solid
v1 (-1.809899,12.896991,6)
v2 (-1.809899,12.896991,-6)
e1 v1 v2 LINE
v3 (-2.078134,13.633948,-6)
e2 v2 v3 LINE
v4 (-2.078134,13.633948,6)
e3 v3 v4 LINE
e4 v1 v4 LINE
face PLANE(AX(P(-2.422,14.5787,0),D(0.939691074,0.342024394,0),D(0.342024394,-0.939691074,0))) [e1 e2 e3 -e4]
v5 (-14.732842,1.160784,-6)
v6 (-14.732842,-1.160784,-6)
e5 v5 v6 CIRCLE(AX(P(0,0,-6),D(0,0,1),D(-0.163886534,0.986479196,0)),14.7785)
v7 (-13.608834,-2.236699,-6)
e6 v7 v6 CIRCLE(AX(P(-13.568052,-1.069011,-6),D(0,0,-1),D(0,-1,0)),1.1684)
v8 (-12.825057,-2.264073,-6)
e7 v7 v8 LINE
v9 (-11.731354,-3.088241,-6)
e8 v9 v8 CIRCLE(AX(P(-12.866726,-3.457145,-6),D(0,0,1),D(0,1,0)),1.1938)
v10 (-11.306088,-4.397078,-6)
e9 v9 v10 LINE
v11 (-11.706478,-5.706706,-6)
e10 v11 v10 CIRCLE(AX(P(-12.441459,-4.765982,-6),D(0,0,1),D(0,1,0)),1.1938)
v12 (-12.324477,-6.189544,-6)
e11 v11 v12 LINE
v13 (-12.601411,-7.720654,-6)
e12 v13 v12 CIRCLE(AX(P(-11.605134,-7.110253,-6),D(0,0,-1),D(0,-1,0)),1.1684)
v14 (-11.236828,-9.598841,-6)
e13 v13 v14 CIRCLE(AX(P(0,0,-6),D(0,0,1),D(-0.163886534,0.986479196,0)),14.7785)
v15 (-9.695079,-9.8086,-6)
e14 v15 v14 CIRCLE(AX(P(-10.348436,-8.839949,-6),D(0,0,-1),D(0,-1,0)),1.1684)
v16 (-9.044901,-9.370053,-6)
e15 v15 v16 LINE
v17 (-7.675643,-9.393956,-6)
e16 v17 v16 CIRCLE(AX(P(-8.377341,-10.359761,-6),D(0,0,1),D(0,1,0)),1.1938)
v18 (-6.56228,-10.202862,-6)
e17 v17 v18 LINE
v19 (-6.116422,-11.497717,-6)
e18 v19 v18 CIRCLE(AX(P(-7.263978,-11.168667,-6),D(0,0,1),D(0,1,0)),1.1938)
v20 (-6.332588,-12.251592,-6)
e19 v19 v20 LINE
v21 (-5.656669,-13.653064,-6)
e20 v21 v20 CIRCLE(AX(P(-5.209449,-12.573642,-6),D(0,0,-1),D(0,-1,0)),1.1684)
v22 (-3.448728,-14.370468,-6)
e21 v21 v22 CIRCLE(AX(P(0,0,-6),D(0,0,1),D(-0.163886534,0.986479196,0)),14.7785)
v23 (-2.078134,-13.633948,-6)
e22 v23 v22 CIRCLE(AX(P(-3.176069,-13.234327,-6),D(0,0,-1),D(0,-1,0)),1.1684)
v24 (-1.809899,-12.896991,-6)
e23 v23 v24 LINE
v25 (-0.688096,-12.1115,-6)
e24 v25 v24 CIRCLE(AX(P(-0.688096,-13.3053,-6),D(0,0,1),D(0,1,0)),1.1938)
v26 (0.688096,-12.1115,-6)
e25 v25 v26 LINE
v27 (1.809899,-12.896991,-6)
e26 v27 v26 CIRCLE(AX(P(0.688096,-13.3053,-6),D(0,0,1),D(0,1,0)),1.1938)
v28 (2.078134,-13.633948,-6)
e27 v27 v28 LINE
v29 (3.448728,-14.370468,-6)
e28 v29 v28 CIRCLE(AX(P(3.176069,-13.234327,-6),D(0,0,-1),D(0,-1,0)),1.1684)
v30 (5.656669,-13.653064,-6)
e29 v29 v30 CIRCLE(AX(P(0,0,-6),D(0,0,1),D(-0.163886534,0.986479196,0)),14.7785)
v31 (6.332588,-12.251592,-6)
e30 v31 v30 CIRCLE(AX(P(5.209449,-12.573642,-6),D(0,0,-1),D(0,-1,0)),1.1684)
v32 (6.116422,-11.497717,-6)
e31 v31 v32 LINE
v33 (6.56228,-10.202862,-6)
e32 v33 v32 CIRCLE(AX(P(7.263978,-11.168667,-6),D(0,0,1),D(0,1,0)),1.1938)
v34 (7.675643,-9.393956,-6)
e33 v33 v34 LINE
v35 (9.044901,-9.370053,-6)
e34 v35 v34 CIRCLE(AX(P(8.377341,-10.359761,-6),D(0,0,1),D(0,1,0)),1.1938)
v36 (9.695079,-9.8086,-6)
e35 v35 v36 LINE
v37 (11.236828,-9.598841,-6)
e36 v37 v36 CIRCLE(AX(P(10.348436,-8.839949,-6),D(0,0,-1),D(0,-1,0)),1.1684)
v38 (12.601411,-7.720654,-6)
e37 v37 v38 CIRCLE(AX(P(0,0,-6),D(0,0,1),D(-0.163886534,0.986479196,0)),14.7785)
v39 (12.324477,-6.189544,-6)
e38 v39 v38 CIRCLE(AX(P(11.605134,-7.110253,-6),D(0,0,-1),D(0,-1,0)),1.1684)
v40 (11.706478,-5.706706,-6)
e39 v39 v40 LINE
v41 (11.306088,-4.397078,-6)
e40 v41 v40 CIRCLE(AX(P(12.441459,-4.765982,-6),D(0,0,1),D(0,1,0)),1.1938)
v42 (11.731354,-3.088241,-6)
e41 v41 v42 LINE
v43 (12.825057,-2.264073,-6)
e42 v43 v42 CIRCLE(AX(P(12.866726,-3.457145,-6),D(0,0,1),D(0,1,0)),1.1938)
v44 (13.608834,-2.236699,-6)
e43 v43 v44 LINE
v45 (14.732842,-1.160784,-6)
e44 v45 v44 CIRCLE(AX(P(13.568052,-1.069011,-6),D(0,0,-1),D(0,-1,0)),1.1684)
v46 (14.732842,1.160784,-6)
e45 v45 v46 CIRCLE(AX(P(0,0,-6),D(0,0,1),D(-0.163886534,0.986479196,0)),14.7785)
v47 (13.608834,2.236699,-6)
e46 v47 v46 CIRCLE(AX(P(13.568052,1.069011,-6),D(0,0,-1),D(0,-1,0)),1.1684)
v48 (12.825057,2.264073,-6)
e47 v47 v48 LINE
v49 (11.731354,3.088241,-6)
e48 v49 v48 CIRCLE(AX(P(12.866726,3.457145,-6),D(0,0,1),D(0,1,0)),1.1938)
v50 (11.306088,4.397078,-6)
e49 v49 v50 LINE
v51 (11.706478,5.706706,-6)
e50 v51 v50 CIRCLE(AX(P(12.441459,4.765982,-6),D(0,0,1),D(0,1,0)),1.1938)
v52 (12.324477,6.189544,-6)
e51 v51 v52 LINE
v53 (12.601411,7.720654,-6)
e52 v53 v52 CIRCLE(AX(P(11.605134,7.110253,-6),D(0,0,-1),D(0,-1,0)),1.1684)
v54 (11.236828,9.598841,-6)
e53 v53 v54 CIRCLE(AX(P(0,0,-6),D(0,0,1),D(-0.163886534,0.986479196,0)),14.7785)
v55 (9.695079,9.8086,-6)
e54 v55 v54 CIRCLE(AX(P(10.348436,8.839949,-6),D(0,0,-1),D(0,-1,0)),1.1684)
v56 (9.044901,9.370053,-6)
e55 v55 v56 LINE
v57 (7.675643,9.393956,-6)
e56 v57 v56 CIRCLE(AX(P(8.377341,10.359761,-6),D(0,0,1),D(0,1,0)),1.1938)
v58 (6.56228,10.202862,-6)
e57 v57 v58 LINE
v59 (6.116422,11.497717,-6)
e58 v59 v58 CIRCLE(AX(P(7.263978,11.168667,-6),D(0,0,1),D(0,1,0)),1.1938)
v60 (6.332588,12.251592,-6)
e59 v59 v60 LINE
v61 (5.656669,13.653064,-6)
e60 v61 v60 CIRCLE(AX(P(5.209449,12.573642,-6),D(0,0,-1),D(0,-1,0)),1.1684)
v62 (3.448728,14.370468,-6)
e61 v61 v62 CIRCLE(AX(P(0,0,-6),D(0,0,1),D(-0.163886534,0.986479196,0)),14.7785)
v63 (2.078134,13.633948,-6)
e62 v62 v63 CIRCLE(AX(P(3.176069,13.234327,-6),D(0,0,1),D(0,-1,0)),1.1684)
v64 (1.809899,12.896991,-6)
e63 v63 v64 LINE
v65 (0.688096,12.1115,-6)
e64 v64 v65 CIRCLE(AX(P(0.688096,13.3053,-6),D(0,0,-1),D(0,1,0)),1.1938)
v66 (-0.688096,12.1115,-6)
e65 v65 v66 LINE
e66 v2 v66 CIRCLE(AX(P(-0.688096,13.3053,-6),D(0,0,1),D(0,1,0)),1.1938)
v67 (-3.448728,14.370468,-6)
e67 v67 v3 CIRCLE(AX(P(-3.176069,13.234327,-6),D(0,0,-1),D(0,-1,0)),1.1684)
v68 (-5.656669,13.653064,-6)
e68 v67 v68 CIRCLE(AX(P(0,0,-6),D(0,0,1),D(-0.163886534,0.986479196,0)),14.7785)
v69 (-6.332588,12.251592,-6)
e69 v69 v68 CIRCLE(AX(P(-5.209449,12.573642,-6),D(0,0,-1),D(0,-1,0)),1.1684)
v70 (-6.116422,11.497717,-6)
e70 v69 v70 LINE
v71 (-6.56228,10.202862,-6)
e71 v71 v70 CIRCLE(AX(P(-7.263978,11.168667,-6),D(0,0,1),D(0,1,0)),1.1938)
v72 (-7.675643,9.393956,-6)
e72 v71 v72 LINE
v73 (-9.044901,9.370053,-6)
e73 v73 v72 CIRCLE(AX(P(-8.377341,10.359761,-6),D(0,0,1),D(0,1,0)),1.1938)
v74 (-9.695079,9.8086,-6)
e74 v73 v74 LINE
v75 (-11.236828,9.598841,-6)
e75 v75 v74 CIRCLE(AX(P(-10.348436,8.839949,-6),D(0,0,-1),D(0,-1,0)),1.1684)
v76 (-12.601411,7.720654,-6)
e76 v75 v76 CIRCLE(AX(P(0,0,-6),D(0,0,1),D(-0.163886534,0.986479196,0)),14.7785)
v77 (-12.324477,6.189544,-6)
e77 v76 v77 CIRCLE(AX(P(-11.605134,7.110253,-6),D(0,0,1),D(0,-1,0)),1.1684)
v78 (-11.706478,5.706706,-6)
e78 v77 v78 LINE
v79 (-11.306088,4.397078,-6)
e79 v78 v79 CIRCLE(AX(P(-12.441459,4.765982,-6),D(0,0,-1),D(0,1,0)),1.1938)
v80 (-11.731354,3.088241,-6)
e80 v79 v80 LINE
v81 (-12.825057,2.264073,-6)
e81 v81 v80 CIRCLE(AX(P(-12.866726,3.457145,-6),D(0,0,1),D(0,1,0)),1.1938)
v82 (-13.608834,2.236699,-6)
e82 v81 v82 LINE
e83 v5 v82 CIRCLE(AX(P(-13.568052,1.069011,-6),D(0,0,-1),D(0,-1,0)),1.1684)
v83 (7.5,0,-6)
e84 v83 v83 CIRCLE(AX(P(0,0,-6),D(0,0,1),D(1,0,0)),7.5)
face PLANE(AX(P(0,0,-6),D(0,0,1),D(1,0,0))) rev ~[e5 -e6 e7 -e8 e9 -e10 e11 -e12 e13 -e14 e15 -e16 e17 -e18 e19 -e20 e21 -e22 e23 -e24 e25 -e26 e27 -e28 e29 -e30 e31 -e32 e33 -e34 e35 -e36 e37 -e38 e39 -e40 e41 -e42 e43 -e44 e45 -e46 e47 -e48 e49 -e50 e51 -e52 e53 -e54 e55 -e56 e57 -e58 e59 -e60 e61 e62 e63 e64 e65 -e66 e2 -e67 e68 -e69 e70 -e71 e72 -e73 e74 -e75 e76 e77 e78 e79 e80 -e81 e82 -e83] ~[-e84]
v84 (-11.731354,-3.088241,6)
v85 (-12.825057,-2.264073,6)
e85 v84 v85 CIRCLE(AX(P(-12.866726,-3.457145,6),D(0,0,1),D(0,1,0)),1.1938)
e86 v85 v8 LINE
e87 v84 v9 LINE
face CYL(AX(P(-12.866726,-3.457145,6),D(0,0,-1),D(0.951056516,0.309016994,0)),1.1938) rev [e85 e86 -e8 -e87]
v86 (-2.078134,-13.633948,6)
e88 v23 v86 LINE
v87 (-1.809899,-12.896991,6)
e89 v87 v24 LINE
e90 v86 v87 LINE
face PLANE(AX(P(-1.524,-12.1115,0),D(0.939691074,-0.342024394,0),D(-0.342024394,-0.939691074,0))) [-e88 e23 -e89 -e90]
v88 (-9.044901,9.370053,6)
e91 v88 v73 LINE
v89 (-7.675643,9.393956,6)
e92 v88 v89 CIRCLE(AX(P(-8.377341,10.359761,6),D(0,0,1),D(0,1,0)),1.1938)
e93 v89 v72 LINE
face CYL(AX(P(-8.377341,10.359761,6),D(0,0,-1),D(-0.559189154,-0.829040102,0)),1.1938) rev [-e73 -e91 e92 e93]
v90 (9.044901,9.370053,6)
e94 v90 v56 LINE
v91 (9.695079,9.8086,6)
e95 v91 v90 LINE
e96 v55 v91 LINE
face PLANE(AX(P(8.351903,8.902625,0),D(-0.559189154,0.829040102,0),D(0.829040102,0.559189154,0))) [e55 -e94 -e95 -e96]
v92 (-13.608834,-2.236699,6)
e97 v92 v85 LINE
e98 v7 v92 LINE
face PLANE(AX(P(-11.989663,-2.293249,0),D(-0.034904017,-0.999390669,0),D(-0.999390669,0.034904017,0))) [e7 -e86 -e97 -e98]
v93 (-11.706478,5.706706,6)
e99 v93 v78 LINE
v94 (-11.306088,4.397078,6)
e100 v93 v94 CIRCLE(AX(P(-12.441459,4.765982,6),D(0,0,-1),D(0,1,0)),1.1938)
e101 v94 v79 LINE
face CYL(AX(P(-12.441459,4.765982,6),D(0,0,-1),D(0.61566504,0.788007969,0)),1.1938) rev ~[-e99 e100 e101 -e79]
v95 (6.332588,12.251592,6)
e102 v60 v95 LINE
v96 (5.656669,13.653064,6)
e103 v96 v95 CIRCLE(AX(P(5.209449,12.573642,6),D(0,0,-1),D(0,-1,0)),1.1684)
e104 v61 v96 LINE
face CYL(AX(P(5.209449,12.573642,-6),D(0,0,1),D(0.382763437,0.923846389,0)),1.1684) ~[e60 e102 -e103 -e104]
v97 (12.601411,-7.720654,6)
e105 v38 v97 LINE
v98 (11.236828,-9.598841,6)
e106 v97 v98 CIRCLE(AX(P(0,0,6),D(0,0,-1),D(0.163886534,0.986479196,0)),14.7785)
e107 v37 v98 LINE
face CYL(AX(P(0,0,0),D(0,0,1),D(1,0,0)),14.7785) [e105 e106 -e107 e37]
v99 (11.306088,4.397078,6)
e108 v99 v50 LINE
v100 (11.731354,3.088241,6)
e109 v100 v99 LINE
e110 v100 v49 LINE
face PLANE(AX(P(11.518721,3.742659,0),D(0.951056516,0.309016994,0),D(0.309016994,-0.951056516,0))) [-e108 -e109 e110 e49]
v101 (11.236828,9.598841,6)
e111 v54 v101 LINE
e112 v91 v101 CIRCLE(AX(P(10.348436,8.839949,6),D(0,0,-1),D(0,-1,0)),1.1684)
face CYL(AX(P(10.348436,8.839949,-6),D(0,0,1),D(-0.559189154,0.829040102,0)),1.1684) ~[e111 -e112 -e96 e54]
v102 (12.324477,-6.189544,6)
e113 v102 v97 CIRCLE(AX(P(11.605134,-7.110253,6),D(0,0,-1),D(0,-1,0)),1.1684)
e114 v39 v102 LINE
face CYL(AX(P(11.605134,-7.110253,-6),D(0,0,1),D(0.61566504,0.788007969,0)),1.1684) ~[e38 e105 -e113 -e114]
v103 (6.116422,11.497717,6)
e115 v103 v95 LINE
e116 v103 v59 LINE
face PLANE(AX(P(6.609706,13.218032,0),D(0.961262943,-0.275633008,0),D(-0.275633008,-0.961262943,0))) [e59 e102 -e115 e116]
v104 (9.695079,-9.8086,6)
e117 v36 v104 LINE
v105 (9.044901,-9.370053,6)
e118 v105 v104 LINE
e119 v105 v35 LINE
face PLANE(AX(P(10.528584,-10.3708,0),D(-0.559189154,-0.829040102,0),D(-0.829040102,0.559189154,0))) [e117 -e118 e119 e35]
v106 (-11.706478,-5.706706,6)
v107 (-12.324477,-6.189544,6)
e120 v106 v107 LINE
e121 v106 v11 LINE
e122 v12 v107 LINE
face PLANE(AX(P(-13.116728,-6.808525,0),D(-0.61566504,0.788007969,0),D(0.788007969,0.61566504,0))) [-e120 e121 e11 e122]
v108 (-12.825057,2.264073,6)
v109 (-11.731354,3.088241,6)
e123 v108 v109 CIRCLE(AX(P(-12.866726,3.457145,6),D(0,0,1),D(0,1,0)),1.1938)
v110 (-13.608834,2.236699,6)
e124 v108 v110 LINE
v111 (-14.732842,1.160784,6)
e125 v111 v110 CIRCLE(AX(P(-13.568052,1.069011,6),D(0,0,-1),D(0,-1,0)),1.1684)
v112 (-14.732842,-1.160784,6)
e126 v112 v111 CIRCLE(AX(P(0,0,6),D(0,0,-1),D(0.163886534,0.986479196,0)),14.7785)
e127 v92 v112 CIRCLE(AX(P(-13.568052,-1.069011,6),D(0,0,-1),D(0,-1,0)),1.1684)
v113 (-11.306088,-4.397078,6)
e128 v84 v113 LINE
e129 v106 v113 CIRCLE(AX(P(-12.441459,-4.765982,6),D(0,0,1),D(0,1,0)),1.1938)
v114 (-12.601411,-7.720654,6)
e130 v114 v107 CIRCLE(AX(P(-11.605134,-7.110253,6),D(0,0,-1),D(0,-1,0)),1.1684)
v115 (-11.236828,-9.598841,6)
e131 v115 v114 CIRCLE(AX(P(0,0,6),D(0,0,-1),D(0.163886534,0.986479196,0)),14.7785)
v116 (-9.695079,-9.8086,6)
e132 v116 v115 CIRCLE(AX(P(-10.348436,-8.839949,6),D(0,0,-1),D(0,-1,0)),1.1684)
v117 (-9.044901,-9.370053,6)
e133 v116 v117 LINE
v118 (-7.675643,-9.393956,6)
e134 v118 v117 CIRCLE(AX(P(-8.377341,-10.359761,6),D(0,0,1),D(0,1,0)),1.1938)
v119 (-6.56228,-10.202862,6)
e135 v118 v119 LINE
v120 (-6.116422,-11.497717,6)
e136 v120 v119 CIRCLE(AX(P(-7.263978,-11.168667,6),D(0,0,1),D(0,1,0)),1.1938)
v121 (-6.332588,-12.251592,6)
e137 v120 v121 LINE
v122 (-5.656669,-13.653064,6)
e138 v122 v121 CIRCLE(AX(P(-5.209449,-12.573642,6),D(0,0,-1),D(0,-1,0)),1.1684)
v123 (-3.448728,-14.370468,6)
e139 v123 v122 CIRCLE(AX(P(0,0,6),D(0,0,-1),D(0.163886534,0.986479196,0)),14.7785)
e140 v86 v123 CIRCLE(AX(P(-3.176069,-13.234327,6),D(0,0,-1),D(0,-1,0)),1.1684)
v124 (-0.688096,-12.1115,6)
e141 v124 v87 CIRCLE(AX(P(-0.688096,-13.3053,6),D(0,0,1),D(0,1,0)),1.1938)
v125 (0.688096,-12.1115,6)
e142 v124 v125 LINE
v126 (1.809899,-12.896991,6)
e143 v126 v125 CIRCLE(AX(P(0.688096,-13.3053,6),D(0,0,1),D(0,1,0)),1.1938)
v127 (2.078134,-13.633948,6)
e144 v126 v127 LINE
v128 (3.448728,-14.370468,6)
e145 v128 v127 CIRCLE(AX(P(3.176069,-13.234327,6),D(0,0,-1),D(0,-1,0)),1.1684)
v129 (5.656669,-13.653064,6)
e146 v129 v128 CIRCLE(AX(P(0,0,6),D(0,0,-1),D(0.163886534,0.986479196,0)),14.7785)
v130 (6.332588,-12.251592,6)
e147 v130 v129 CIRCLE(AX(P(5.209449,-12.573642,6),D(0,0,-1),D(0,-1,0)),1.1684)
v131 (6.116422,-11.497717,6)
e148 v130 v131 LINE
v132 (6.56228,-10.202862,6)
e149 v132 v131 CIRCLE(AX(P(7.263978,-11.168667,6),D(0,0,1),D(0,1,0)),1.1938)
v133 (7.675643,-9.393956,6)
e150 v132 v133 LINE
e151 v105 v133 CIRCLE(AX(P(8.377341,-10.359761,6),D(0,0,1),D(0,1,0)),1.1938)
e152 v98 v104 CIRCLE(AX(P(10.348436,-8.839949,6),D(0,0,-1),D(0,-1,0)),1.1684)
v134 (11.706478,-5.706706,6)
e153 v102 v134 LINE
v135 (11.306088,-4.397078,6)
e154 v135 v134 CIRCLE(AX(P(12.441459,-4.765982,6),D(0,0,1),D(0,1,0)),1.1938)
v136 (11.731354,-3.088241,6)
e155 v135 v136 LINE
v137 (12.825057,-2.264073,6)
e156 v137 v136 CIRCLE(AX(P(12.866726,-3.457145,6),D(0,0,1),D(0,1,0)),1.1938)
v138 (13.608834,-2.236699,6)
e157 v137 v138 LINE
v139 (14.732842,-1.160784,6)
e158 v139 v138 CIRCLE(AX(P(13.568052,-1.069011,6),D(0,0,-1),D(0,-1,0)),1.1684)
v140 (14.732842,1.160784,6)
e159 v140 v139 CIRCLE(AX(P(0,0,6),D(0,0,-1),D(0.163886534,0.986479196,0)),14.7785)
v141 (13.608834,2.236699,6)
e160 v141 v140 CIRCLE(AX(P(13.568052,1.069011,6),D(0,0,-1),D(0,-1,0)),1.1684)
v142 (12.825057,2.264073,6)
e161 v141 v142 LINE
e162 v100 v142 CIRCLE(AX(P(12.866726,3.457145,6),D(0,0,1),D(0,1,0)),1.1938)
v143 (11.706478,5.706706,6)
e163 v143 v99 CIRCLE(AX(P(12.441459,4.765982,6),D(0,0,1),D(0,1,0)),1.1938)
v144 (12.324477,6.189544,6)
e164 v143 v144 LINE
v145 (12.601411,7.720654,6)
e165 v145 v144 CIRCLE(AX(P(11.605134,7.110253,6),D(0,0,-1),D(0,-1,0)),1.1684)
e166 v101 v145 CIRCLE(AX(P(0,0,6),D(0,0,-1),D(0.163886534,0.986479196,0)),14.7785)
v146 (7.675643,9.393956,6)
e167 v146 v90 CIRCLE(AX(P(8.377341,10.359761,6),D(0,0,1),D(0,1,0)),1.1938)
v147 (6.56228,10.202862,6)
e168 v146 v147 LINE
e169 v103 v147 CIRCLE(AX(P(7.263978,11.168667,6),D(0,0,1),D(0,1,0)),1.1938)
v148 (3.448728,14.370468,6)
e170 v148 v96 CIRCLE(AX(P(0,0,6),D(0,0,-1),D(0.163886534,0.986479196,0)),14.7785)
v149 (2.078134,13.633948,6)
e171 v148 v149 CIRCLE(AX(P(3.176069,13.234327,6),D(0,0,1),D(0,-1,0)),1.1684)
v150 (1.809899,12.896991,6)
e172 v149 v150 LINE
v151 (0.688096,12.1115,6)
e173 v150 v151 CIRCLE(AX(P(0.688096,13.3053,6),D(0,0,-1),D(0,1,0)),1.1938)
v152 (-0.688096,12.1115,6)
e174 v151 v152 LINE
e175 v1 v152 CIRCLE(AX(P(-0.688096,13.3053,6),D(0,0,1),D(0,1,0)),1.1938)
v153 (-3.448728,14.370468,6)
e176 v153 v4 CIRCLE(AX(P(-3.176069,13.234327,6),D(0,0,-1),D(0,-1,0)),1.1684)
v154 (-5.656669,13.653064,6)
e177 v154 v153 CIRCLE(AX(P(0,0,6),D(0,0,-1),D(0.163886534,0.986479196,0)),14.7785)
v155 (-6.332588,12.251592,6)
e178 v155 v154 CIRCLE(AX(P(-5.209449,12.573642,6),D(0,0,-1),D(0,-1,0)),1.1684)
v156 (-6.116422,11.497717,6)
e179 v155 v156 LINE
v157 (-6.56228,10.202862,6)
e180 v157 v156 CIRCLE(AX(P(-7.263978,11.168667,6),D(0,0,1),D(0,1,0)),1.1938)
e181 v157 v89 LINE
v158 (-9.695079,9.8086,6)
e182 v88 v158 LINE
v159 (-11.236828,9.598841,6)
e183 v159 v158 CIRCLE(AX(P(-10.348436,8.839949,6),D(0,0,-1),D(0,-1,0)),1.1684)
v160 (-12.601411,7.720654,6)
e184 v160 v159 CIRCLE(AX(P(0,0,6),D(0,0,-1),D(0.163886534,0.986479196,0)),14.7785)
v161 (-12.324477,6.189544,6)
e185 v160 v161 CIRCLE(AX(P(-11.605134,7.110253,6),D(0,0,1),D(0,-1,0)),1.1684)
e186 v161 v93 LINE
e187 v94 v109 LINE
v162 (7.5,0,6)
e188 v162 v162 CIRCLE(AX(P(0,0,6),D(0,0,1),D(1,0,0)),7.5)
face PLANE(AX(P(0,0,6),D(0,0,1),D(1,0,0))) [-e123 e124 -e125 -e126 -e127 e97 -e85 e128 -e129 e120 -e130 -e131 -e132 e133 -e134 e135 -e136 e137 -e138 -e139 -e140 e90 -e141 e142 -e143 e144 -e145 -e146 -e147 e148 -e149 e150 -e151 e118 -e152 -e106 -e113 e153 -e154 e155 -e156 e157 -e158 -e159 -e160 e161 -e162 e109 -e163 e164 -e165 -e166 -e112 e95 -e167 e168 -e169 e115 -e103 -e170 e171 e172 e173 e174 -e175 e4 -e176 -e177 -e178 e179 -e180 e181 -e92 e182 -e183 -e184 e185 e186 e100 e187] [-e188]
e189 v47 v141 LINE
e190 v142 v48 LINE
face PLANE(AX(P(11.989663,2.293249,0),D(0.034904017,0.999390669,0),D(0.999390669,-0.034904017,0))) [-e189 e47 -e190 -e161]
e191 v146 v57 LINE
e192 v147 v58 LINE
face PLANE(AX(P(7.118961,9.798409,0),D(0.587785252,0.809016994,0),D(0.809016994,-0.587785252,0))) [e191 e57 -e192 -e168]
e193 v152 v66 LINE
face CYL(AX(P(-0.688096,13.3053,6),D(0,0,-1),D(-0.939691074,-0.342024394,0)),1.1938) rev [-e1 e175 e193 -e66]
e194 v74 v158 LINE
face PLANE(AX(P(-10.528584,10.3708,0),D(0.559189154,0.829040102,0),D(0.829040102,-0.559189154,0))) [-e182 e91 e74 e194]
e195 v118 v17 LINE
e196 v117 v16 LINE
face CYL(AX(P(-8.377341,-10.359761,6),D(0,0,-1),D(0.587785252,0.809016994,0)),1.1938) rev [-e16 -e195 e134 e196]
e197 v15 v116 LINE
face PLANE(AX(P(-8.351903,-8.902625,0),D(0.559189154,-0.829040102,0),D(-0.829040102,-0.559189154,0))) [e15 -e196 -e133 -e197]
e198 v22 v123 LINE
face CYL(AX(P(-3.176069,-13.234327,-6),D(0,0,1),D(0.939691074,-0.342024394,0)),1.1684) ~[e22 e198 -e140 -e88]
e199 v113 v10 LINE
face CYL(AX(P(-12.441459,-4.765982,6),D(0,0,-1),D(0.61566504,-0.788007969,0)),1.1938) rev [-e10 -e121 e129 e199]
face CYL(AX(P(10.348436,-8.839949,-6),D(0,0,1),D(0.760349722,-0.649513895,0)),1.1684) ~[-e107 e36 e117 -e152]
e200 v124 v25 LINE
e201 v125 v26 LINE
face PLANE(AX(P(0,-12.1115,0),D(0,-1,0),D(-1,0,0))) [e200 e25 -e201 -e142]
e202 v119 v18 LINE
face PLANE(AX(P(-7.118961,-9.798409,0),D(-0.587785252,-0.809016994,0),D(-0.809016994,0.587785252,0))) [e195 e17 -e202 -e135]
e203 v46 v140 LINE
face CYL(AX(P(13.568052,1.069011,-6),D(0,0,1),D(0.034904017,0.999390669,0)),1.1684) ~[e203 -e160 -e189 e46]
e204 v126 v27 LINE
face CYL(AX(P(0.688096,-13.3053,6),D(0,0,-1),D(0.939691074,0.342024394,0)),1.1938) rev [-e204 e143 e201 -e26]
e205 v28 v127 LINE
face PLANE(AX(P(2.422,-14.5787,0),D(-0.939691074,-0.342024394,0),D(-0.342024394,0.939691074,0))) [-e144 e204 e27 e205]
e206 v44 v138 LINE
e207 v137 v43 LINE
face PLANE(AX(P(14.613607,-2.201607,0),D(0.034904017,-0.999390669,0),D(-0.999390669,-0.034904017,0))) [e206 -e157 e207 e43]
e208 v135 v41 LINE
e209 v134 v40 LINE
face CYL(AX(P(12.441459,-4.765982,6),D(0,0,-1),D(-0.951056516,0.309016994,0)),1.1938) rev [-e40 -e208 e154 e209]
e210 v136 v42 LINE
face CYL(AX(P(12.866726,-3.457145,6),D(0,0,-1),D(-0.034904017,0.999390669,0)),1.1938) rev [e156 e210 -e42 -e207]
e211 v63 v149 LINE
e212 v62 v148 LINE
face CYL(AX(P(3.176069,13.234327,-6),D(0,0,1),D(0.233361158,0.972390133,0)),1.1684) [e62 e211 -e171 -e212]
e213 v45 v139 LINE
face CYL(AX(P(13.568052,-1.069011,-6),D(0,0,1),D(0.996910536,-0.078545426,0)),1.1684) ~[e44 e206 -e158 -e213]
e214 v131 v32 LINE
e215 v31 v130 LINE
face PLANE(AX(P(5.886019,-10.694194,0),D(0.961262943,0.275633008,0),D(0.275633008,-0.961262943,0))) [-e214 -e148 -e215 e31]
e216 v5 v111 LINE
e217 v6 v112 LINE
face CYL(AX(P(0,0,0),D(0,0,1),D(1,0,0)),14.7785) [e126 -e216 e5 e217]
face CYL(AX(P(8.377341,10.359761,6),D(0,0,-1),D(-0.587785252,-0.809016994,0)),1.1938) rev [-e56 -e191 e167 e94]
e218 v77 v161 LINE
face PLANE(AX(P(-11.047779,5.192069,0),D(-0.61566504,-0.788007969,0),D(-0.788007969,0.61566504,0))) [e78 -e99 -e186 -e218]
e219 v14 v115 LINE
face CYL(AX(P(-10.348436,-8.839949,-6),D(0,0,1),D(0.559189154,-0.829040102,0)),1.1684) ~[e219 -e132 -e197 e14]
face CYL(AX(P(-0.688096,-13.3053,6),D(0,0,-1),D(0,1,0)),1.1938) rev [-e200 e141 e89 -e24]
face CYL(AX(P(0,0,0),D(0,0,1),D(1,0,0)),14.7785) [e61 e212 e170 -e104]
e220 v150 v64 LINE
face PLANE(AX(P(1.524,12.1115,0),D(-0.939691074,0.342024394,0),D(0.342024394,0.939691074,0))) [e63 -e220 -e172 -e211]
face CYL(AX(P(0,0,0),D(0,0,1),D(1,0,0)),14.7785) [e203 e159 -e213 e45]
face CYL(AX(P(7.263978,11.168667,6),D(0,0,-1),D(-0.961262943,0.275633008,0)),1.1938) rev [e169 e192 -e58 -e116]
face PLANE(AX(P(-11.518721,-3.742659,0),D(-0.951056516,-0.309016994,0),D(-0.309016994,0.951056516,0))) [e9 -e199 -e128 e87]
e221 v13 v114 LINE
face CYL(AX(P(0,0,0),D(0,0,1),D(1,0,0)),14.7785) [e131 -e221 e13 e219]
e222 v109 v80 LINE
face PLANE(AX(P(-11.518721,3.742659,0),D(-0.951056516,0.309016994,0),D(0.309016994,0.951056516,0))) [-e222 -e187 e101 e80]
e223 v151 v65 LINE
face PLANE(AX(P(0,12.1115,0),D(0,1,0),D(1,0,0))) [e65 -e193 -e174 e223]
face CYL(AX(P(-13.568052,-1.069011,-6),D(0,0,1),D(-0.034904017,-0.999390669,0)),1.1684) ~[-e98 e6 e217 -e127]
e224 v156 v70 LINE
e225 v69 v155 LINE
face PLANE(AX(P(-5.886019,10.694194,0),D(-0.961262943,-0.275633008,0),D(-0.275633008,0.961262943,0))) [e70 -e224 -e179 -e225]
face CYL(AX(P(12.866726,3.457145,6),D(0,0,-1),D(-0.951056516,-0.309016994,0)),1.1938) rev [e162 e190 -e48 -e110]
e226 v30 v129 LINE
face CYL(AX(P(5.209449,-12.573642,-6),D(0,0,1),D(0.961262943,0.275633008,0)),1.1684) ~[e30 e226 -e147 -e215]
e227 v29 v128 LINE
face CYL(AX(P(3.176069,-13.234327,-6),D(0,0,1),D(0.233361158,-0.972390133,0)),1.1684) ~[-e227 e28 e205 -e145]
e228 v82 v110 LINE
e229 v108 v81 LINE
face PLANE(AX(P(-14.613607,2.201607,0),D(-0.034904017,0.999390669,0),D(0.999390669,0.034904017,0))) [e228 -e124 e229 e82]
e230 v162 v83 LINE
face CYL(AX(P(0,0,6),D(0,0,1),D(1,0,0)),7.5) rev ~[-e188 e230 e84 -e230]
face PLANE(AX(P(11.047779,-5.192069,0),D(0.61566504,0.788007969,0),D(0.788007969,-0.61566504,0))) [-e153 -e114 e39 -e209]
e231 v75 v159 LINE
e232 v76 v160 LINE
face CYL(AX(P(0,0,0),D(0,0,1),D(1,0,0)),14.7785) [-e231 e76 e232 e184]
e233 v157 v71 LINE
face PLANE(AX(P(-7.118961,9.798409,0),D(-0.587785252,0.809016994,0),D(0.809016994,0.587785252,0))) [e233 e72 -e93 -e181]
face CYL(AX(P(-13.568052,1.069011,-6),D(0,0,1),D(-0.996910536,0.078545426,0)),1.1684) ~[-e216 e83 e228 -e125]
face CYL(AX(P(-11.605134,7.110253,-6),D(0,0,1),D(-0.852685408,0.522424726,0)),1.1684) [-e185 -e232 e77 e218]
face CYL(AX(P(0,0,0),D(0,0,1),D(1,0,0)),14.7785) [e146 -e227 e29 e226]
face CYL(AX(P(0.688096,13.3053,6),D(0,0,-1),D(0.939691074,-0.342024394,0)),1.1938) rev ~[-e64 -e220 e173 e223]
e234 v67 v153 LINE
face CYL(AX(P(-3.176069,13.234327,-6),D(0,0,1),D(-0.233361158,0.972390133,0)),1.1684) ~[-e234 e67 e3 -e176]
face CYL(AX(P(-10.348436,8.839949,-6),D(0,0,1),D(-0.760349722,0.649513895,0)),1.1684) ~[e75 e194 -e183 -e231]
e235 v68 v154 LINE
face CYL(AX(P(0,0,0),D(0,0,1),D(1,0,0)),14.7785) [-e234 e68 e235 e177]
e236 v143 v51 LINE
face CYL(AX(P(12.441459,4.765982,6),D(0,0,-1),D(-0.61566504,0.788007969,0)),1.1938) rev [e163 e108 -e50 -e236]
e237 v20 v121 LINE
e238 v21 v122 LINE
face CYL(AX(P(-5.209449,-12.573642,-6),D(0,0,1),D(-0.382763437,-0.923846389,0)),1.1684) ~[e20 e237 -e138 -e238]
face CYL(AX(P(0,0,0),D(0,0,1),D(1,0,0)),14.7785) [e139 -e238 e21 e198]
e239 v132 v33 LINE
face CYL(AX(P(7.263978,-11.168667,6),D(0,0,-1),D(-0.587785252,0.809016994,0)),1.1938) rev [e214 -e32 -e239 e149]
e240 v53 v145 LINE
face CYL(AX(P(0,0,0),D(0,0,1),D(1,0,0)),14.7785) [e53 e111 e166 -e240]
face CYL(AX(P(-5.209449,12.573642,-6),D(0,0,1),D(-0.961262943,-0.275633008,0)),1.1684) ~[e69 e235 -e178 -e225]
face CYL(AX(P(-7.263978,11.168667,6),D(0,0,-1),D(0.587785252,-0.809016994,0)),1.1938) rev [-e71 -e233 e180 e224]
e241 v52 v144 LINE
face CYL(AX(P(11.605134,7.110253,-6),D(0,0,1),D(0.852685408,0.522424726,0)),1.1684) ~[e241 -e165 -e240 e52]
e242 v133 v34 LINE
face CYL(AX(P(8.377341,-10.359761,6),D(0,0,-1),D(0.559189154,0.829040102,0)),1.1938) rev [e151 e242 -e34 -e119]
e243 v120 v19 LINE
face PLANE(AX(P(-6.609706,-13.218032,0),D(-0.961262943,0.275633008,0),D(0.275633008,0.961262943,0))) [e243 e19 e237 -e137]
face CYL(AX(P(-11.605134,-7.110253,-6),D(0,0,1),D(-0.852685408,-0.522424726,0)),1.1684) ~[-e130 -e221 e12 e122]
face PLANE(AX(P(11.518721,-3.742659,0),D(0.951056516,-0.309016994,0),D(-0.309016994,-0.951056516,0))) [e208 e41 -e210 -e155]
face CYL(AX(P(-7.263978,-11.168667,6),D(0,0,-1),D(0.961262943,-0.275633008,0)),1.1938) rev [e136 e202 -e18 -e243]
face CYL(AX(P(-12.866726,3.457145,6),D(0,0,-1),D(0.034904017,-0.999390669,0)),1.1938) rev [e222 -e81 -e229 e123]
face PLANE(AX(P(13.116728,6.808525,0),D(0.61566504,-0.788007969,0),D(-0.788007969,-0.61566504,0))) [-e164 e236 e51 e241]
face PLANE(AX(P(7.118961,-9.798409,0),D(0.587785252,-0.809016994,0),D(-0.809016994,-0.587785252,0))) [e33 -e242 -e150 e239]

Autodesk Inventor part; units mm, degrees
ref_plane "YZ Plane" through (0, 0, 0) normal (1, 0, 0) x (0, 1, 0)
ref_plane "XZ Plane" through (0, 0, 0) normal (0, 1, 0) x (-1, 0, 0)
ref_plane "XY Plane" through (0, 0, 0) normal (0, 0, 1) x (1, 0, 0)
sketch "Pulley Sketch" plane through (0, 0, 0) normal (0, 0, 1) x (1, 0, 0)
  circle A0 centre (0, 0) radius 15.1595 construction
  circle A1 centre (0, 0) radius 14.7785
  circle A2 centre (0, 0) radius 12.1115
  line L0 (-2.422, 14.5787) -> (-1.524, 12.1115)
  line L1 (-1.524, 12.1115) -> (1.524, 12.1115)
  line L2 (1.524, 12.1115) -> (2.422, 14.5787)
  line L3 (0, 0) -> (0, 14.7785) construction
  point P0 (0, 12.1115)
  dimension "d0" = 30.319
  dimension "d1" = 0.381
  dimension "d2" = 2.667
  dimension "d3" = 40
  dimension "d4" = 3.048
extrude "Base Body" add sketch "Pulley Sketch" along normal mid plane 12 contours A2 | A1 L0 L1 L2 | L2 L1 L0 A1
extrude "Tooth" cut sketch "Pulley Sketch" along normal through all both and the other way through all contours L2 L1 L0 A1 picked at (0, 13.8747)
fillet "Tooth Fillet" radius 1.1938 2 edges at (1.524, 12.1115, 0) (-1.524, 12.1115, 0)
fillet "Tooth Fillet" radius 1.1684 4 edges at (-2.422, 14.5787, 3) (-2.422, 14.5787, -3) (2.422, 14.5787, 3) (2.422, 14.5787, -3)
pattern_circular "Teeth" count 10 over 360 about axis through (0, 0, -10) along (0, 0, 1) of "Tooth", "Tooth Fillet"
feature "Left flange" [suppressed]
feature "Right flange" [suppressed]
sketch "Sketch2" plane through (0, 0, 6) normal (0, 0, 1) x (1, 0, 0)
  circle A0 centre (0, 0) radius 7.5
  dimension "d17" = 15
extrude "Extrusion3" cut sketch "Sketch2" against normal through all
equation "\"d1\" = da_a"
equation "\"d2\" = da_hg"
equation "\"d3\" = 2 * da_fi"
equation "\"d4\" = da_bw"
equation "\"d5\" = da_bf"
equation "\"d7\" = da_bf"
equation "\"d9\" = da_rb"
equation "\"d10\" = da_rt"
equation "\"da_pb\" = 9.525"
equation "\"da_fi\" = 20deg"
equation "\"da_hg\" = 2.667"
equation "\"da_bw\" = 3.048"
equation "\"da_rb\" = 1.1938"
equation "\"da_rt\" = 1.1684"
equation "\"da_a\" = 0.381"
equation "\"da_bf\" = 12"
equation "\"da_wf\" = 1.5"
equation "\"da_hf\" = 1.5"
properties part number "Synchronous Pulley1" material "Steel"
